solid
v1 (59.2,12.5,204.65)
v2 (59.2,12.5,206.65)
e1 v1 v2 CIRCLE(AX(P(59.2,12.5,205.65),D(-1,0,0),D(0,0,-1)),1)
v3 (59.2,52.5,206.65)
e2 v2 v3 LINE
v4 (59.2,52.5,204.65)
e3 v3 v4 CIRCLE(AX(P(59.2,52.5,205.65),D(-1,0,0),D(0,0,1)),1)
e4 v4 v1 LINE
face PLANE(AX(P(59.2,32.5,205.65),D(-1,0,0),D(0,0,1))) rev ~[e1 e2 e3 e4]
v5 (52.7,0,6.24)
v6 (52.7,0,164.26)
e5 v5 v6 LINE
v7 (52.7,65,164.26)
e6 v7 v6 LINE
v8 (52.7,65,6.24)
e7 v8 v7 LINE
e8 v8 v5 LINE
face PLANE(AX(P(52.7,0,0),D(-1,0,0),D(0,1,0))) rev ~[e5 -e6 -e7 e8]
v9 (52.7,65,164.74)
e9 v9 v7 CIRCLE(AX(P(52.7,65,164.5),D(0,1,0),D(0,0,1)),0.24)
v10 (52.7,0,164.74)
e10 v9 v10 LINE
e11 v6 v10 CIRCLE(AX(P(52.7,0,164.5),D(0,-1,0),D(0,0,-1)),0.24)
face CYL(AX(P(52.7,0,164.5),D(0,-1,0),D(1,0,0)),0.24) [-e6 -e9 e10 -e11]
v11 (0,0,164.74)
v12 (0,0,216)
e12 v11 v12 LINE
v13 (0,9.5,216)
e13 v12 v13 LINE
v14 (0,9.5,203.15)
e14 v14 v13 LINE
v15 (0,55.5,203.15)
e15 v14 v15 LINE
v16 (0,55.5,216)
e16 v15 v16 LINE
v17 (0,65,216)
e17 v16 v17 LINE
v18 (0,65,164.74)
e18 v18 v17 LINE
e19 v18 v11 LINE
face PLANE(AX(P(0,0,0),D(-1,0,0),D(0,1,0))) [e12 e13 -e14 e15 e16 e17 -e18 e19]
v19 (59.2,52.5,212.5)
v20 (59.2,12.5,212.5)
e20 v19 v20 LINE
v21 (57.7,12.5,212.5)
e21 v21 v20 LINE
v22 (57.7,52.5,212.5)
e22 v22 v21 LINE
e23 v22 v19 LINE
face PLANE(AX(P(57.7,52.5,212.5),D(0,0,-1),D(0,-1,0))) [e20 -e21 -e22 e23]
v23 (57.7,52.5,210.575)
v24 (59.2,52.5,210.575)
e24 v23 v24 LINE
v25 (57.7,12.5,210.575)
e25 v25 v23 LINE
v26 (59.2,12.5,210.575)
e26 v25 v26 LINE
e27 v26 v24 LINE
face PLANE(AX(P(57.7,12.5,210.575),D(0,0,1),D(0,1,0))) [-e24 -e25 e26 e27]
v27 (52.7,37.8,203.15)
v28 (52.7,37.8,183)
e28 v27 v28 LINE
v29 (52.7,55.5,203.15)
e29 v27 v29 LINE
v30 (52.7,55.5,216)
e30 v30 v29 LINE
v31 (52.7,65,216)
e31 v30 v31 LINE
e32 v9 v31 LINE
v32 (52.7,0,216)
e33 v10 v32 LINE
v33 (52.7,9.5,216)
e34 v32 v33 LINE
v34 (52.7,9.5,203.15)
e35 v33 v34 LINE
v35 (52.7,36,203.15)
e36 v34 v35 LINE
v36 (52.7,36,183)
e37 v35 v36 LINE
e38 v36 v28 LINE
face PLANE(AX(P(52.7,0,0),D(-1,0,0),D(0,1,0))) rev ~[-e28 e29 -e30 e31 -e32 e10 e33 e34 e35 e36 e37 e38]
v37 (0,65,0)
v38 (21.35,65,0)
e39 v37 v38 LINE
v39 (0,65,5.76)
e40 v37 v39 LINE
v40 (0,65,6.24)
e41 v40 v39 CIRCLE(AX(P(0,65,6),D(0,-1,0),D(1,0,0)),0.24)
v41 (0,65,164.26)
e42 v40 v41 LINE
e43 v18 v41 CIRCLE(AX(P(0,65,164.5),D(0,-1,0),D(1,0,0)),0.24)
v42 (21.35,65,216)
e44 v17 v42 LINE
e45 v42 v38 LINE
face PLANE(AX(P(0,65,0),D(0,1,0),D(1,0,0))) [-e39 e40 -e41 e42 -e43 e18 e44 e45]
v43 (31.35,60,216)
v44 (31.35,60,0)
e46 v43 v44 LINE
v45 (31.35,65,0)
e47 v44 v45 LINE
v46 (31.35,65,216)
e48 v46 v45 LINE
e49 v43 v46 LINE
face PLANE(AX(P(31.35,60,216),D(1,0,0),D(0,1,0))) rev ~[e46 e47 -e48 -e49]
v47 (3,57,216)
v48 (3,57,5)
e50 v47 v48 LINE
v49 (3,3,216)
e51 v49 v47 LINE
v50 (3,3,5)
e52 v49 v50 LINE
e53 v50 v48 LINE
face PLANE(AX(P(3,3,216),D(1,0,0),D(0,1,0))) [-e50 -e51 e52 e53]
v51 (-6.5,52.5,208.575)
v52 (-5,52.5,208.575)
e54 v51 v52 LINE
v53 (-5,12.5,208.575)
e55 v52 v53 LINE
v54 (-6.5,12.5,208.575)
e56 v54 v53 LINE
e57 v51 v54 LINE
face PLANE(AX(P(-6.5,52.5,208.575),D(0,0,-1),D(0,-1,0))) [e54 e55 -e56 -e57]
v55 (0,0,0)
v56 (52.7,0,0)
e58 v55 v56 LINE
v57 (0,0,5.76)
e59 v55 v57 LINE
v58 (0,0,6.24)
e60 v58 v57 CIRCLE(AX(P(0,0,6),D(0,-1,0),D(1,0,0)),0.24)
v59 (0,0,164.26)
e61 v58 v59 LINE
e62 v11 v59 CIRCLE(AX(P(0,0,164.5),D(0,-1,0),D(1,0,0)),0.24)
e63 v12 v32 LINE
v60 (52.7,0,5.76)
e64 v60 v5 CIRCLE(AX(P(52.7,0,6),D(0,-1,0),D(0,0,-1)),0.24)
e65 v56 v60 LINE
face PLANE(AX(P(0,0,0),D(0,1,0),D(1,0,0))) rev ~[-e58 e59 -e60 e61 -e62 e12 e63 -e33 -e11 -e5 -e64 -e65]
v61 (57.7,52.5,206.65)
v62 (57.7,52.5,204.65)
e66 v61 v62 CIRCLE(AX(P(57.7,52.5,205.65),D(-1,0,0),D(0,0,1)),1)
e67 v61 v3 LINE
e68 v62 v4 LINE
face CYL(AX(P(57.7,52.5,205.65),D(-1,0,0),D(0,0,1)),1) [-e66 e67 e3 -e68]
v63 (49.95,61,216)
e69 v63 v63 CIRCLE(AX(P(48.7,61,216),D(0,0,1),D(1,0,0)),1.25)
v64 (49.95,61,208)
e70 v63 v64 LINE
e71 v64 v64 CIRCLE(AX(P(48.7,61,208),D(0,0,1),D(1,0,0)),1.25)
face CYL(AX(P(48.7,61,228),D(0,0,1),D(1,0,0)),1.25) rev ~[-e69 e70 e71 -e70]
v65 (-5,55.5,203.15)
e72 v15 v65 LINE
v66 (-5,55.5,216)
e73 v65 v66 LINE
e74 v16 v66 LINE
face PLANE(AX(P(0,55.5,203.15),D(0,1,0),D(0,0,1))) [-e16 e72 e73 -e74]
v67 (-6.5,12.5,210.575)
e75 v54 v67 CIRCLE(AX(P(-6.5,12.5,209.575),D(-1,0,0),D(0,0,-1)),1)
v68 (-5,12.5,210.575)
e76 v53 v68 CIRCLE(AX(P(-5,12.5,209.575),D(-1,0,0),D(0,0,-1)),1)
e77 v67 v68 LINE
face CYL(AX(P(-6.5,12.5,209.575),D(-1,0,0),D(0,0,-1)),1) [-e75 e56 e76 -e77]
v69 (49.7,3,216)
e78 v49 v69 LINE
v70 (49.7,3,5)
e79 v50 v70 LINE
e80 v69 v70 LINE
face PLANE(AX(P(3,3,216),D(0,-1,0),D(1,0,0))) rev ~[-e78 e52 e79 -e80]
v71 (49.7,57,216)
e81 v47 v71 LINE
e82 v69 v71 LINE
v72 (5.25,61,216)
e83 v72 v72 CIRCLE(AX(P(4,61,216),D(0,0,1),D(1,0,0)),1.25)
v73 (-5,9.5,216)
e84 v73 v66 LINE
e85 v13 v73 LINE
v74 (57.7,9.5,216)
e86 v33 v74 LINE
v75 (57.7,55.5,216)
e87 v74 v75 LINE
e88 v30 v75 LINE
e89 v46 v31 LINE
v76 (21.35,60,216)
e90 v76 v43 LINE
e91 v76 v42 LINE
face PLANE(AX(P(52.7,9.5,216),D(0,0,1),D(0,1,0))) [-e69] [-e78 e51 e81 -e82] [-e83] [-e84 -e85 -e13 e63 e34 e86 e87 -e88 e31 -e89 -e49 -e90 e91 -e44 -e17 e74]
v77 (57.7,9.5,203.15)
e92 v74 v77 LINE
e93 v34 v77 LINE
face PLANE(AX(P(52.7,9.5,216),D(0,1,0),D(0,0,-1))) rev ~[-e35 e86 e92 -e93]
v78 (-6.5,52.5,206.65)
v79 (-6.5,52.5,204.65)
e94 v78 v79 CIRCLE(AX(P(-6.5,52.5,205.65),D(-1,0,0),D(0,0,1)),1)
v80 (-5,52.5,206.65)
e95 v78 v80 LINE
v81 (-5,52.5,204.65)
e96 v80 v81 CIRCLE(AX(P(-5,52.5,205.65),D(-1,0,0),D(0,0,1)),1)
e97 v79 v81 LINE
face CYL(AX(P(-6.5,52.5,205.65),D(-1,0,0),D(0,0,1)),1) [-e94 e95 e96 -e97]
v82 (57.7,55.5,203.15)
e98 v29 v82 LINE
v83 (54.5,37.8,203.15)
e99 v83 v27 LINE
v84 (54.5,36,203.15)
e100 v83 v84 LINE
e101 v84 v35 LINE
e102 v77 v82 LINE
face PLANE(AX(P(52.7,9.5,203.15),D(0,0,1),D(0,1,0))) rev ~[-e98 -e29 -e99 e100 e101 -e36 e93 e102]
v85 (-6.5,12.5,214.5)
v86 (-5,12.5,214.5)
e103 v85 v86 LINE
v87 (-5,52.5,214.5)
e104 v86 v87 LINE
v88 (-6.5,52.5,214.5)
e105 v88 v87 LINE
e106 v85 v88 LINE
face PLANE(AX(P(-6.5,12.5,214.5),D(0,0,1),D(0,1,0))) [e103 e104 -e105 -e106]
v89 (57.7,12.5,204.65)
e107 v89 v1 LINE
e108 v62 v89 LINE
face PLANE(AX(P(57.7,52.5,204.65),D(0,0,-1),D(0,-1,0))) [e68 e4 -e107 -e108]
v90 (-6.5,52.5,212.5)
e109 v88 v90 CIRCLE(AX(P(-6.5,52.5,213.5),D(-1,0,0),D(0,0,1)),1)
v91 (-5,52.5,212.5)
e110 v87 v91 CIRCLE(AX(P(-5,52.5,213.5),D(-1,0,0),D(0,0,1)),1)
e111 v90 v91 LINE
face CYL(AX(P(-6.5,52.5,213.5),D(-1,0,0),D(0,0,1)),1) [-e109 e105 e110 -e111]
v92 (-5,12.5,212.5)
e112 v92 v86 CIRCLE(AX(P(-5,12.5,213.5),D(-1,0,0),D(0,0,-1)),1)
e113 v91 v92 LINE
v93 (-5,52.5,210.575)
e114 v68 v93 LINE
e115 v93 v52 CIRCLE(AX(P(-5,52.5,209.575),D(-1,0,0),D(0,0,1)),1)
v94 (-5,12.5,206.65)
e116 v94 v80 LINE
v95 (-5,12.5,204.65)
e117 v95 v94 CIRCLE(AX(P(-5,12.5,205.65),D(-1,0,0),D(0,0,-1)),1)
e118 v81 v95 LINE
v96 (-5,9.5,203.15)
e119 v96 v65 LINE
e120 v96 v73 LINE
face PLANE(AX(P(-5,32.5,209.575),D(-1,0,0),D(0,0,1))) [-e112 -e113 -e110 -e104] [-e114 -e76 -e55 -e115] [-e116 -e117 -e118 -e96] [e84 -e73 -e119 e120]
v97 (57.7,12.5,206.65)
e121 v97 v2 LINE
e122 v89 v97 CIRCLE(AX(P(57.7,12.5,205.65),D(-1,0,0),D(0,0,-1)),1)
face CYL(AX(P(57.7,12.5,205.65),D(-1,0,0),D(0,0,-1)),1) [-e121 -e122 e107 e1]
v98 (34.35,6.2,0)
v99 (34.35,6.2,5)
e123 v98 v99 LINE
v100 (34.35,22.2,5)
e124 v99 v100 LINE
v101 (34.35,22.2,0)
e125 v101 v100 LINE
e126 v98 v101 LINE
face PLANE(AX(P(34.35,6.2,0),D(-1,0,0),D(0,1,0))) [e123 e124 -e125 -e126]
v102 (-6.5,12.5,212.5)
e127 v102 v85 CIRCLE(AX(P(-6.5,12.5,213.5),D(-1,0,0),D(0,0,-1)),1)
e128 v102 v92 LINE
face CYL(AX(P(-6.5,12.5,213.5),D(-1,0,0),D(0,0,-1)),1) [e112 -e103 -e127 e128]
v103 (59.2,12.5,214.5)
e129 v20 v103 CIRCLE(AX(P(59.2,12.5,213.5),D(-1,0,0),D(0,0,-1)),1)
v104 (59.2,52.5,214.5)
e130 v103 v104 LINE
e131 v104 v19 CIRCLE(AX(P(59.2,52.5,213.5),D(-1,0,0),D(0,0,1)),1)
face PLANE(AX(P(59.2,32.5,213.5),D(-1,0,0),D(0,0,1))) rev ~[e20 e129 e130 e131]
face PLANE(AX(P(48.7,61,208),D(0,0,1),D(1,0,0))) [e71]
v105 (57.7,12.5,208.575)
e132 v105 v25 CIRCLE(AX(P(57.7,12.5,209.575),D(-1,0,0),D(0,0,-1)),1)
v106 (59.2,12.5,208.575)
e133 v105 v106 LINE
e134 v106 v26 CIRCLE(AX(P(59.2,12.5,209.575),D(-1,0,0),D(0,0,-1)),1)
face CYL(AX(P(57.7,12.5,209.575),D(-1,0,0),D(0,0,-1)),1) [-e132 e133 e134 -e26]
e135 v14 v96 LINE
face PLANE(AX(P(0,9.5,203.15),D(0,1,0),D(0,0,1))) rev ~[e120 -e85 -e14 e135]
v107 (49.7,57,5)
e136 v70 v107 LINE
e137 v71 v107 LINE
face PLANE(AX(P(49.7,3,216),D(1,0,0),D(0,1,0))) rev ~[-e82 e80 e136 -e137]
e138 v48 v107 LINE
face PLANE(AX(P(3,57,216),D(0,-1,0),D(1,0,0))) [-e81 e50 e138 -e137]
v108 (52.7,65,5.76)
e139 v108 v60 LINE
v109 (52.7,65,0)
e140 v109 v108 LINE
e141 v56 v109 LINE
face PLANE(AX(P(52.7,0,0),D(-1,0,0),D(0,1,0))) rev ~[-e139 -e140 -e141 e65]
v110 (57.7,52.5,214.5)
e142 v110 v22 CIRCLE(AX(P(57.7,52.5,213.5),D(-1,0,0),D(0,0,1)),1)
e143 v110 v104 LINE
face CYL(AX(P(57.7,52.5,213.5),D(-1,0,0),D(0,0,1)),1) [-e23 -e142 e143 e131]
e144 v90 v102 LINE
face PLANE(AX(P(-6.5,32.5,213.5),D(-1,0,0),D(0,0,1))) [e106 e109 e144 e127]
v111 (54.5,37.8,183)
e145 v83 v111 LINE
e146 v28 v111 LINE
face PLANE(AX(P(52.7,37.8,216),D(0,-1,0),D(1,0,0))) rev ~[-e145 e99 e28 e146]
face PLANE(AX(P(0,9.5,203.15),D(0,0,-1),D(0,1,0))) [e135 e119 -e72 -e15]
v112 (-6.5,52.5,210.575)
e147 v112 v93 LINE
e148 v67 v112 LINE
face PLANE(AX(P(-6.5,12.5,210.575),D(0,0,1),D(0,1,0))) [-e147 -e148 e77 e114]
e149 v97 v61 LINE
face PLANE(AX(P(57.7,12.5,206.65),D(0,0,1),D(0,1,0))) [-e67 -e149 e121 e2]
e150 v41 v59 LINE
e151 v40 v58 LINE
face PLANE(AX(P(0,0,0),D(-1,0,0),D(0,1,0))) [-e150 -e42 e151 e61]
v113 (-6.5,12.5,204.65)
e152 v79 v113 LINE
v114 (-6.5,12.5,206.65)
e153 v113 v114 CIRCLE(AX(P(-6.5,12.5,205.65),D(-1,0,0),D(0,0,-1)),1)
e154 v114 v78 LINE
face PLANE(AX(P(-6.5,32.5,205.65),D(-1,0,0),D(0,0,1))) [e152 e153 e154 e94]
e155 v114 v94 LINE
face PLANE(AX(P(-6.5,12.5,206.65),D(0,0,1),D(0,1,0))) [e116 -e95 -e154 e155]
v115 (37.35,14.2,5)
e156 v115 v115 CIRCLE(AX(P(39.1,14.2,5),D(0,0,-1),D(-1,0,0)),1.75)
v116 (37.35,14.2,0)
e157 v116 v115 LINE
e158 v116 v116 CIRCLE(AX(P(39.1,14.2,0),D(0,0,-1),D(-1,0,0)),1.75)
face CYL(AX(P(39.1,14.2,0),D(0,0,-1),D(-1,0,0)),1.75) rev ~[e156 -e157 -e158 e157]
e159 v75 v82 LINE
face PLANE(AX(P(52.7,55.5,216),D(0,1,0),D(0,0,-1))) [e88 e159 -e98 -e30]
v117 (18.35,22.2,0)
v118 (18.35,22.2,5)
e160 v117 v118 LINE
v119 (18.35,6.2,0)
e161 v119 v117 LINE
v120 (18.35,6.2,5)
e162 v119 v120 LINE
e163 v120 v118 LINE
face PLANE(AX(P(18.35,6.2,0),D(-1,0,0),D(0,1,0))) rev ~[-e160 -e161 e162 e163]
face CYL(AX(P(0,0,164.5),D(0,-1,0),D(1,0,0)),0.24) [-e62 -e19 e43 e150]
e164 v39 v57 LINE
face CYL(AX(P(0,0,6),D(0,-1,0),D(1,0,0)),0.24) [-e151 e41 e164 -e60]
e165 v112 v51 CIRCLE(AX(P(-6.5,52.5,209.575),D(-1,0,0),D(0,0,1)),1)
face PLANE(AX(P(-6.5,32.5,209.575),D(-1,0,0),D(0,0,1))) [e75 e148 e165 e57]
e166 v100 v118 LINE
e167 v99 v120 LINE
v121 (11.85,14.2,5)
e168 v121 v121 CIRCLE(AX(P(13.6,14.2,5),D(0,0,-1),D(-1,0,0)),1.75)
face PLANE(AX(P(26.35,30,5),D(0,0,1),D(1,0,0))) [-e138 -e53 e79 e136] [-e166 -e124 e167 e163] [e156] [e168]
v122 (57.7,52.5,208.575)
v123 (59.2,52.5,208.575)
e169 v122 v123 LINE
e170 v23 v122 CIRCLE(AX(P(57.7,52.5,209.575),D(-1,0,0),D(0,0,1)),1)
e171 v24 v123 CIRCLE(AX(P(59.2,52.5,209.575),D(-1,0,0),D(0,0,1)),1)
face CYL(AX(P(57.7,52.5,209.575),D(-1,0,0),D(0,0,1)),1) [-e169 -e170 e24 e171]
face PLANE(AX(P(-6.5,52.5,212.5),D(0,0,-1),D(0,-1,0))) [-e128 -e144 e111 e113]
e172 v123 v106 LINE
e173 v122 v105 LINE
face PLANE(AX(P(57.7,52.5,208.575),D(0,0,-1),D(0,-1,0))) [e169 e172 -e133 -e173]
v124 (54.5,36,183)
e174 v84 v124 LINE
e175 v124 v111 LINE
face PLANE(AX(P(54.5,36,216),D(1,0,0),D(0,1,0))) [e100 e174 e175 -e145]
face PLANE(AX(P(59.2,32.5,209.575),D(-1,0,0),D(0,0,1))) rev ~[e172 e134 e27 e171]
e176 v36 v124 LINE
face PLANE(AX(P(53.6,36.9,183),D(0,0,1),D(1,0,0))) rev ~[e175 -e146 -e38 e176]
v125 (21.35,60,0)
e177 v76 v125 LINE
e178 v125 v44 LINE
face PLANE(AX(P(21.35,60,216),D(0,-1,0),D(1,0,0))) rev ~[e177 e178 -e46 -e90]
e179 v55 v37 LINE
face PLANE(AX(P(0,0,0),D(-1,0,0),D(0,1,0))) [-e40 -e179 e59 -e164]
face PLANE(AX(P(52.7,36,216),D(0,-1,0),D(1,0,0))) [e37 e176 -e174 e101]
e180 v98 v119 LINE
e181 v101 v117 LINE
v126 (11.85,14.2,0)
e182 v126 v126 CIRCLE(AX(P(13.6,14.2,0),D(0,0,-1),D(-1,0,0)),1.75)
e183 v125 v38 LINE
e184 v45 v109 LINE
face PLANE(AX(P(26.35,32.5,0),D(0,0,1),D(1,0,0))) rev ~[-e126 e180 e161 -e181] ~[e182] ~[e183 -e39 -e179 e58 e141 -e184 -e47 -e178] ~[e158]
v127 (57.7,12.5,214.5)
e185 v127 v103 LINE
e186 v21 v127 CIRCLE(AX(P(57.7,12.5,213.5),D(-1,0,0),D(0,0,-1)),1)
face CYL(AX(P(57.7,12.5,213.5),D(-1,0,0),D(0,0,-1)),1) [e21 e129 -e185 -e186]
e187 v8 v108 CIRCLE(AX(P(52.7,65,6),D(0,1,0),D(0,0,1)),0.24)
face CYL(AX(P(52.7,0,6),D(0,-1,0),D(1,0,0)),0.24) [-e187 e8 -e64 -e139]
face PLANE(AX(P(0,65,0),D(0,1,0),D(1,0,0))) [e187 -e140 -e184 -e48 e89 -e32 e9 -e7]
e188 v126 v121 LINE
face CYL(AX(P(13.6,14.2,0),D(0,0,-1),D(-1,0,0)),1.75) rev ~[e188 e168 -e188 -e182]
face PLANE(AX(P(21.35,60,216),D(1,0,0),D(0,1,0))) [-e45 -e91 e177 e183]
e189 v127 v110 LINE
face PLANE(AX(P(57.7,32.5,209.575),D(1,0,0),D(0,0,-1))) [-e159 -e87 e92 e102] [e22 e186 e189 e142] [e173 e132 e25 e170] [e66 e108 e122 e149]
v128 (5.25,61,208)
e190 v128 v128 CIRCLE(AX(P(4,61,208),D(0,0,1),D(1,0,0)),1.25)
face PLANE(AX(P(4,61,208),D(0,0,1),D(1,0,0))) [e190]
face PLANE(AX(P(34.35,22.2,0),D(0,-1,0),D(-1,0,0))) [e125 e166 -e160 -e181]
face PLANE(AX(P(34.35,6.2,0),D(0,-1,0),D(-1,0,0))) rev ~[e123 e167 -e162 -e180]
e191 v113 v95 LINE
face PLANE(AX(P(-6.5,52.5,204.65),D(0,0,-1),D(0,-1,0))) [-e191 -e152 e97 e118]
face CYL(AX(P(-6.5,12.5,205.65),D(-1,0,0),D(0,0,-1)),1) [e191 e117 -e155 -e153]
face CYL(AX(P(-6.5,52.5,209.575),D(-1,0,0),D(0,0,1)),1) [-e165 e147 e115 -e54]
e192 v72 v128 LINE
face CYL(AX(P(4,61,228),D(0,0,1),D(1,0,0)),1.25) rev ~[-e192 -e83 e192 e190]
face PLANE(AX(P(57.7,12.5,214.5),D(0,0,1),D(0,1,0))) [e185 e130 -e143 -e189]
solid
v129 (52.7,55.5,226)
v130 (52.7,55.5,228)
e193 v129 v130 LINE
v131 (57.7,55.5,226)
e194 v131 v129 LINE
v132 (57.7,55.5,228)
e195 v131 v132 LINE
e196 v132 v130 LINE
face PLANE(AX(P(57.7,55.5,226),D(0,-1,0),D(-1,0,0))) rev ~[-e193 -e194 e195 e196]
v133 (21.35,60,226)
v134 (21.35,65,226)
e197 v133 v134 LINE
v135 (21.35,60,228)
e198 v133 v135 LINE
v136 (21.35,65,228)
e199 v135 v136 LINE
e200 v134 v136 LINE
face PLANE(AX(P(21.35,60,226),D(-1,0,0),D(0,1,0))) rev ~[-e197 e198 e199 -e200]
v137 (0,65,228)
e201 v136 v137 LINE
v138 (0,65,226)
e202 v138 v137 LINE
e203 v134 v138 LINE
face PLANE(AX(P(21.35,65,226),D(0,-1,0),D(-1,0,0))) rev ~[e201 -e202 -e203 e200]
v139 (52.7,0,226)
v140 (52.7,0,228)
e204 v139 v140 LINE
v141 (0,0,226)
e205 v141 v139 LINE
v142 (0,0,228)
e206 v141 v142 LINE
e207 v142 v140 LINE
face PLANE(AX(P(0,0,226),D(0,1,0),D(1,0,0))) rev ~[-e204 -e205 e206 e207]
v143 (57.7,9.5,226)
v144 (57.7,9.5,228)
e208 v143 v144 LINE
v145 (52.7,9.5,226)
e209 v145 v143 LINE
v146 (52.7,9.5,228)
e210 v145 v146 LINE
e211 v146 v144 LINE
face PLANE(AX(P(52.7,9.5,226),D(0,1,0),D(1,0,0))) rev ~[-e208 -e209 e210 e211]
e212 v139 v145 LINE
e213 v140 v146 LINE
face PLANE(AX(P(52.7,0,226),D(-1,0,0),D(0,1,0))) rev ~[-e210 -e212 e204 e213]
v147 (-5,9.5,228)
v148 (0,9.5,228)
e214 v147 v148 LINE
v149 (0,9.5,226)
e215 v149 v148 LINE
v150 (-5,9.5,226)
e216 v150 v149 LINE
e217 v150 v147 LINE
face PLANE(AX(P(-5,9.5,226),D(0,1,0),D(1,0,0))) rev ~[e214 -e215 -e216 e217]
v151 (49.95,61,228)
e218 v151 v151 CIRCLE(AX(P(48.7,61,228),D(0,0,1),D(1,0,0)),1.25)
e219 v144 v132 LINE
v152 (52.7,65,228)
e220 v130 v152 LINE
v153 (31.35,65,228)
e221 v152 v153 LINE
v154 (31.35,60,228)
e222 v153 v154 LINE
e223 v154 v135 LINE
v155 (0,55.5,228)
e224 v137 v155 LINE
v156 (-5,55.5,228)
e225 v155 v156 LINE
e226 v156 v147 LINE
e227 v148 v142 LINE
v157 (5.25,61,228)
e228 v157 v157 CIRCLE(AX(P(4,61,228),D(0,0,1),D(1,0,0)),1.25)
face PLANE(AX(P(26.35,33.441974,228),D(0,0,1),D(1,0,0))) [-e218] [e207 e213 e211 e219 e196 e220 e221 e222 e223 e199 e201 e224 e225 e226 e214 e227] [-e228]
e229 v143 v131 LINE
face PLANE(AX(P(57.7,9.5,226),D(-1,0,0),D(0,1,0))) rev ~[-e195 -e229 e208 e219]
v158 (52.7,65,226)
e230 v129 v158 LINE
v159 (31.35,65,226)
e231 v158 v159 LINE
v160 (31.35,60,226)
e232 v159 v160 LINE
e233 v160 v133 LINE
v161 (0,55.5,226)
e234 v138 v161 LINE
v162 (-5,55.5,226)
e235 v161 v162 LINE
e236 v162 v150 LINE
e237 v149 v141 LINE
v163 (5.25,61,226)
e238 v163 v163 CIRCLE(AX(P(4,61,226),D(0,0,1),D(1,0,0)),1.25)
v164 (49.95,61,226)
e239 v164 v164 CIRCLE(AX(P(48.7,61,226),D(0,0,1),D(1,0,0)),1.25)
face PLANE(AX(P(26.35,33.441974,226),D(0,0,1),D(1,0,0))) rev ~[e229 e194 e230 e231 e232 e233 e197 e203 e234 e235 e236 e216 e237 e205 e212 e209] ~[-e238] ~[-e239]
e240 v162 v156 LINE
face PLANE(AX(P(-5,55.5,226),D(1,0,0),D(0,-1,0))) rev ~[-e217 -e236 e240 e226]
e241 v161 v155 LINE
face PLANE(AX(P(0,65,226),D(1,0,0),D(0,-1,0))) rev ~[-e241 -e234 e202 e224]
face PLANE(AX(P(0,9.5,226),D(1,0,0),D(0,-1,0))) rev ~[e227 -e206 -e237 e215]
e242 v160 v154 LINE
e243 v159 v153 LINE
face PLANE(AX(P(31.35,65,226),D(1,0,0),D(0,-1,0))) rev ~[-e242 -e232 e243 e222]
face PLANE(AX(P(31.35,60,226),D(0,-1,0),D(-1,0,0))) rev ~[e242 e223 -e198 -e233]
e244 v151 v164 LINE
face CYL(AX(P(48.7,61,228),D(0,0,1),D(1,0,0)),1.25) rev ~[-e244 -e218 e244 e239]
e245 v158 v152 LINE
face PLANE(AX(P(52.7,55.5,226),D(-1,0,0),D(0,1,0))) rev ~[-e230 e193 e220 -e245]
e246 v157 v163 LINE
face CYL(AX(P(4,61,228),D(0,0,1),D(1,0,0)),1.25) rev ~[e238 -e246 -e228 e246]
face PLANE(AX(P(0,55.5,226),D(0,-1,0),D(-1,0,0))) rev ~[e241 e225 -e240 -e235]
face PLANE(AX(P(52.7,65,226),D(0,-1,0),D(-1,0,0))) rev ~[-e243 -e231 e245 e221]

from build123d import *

# Parameters (mm, degrees)
SKETCH_1_W          = 52.7
SKETCH_1_H          = 65
EXTRUDE_1_DEPTH     = 216
SKETCH_2_W          = 10
SKETCH_2_H          = 5
CUT_EXTRUDE_1_DEPTH = 232.642591075
SKETCH_3_W          = 46.7
SKETCH_3_H          = 54
CUT_EXTRUDE_2_DEPTH = 211
SKETCH_6_R          = 1.75
SKETCH_6_W          = 16
SKETCH_6_H          = 16
CUT_EXTRUDE_3_DEPTH = 5
SKETCH_7_W          = 1.8
SKETCH_7_H          = 1.8
EXTRUDE_2_DEPTH     = 33
SKETCH_9_W          = 12.85
SKETCH_9_H          = 46
EXTRUDE_3_DEPTH     = 5
SKETCH_10_W         = 12.85
SKETCH_10_H         = 46
EXTRUDE_4_DEPTH     = 5
EXTRUDE_5_DEPTH     = 1.5
EXTRUDE_START       = 1.5
EXTRUDE_6_DEPTH     = 1.5
EXTRUDE_7_DEPTH     = 2
SKETCH_15_R         = 1.25
CUT_EXTRUDE_4_DEPTH = 20
SKETCH_18_R         = 0.24
EXTRUDE_8_DEPTH     = 65


with BuildPart() as part:
    # 草图1 → 凸台-拉伸1 (new body)
    with BuildSketch(Plane.XY):
        with Locations((26.35, 32.5)):
            Rectangle(SKETCH_1_W, SKETCH_1_H)
    extrude(amount=EXTRUDE_1_DEPTH)

    # 草图2 → 切除-拉伸1 (cut, through all)
    with BuildSketch(Plane.XY.offset(216)):
        with Locations((26.35, 62.5)):
            Rectangle(SKETCH_2_W, SKETCH_2_H)
    extrude(amount=-CUT_EXTRUDE_1_DEPTH, mode=Mode.SUBTRACT)

    # 草图3 → 切除-拉伸2 (cut)
    with BuildSketch(Plane.XY.offset(216)):
        with Locations((26.35, 30)):
            Rectangle(SKETCH_3_W, SKETCH_3_H)
    extrude(amount=-CUT_EXTRUDE_2_DEPTH, mode=Mode.SUBTRACT)

    # 草图6 → 切除-拉伸3 (cut)
    with BuildSketch(Plane(origin=(0, 0, 0), x_dir=(-1, 0, 0), z_dir=(0, 0, -1))):
        with Locations((-13.6, 14.2)):
            Circle(SKETCH_6_R)
        with Locations((-39.1, 14.2)):
            Circle(SKETCH_6_R)
        with Locations((-26.35, 14.2)):
            Rectangle(SKETCH_6_W, SKETCH_6_H)
    extrude(amount=-CUT_EXTRUDE_3_DEPTH, mode=Mode.SUBTRACT)

    # 草图7 → 凸台-拉伸2 (add)
    with BuildSketch(Plane.XY.offset(216)):
        with Locations((53.6, 36.9)):
            Rectangle(SKETCH_7_W, SKETCH_7_H)
    extrude(amount=-EXTRUDE_2_DEPTH)

    # 草图9 → 凸台-拉伸3 (add)
    with BuildSketch(Plane.ZY):
        with Locations((209.575, 32.5)):
            Rectangle(SKETCH_9_W, SKETCH_9_H)
    extrude(amount=EXTRUDE_3_DEPTH)

    # 草图10 → 凸台-拉伸4 (add)
    with BuildSketch(Plane(origin=(52.7, 0, 0), x_dir=(0, 0, -1), z_dir=(1, 0, 0))):
        with Locations((-209.575, 32.5)):
            Rectangle(SKETCH_10_W, SKETCH_10_H)
    extrude(amount=EXTRUDE_4_DEPTH)

    # 草图11 → 凸台-拉伸5 (add)
    with BuildSketch(Plane(origin=(57.7, 0, 0), x_dir=(0, 0, -1), z_dir=(1, 0, 0))):
        with BuildLine():
            Line((-214.5, 12.5), (-214.5, 52.5))
            ThreePointArc((-214.5, 52.5), (-213.5, 53.5), (-212.5, 52.5))
            Line((-212.5, 52.5), (-212.5, 12.5))
            ThreePointArc((-212.5, 12.5), (-213.5, 11.5), (-214.5, 12.5))
        make_face()
        with BuildLine():
            Line((-210.575, 12.5), (-210.575, 52.5))
            ThreePointArc((-210.575, 52.5), (-209.575, 53.5), (-208.575, 52.5))
            Line((-208.575, 52.5), (-208.575, 12.5))
            ThreePointArc((-208.575, 12.5), (-209.575, 11.5), (-210.575, 12.5))
        make_face()
        with BuildLine():
            Line((-206.65, 12.5), (-206.65, 52.5))
            ThreePointArc((-206.65, 52.5), (-205.65, 53.5), (-204.65, 52.5))
            Line((-204.65, 52.5), (-204.65, 12.5))
            ThreePointArc((-204.65, 12.5), (-205.65, 11.5), (-206.65, 12.5))
        make_face()
    extrude(amount=EXTRUDE_5_DEPTH)

    # 草图12 → 凸台-拉伸6 (add)
    with BuildSketch(Plane.ZY.offset(5).offset(EXTRUDE_START)):
        with BuildLine():
            Line((214.5, 12.5), (214.5, 52.5))
            ThreePointArc((214.5, 52.5), (213.5, 53.5), (212.5, 52.5))
            Line((212.5, 52.5), (212.5, 12.5))
            ThreePointArc((212.5, 12.5), (213.5, 11.5), (214.5, 12.5))
        make_face()
        with BuildLine():
            Line((206.65, 12.5), (206.65, 52.5))
            ThreePointArc((206.65, 52.5), (205.65, 53.5), (204.65, 52.5))
            Line((204.65, 52.5), (204.65, 12.5))
            ThreePointArc((204.65, 12.5), (205.65, 11.5), (206.65, 12.5))
        make_face()
        with BuildLine():
            Line((210.575, 12.5), (210.575, 52.5))
            ThreePointArc((210.575, 52.5), (209.575, 53.5), (208.575, 52.5))
            Line((208.575, 52.5), (208.575, 12.5))
            ThreePointArc((208.575, 12.5), (209.575, 11.5), (210.575, 12.5))
        make_face()
    extrude(amount=-EXTRUDE_6_DEPTH)


with BuildPart() as body_2:
    # 草图14 → 凸台-拉伸7 (new body)
    with BuildSketch(Plane.XY.offset(226)):
        Polygon((57.7, 55.5), (52.7, 55.5), (52.7, 65), (31.35, 65), (31.35, 60), (21.35, 60), (21.35, 65), (0, 65), (0, 55.5), (-5, 55.5), (-5, 9.5), (0, 9.5), (0, 0), (52.7, 0), (52.7, 9.5), (57.7, 9.5), align=None)
    extrude(amount=EXTRUDE_7_DEPTH)


with BuildPart() as cut_extrude_4_tool:
    # 草图15 → 切除-拉伸4 (new body)
    with BuildSketch(Plane.XY.offset(228)):
        with Locations((4, 61)):
            Circle(SKETCH_15_R)
        with Locations((48.7, 61)):
            Circle(SKETCH_15_R)
    extrude(amount=-CUT_EXTRUDE_4_DEPTH)


with BuildPart() as part_1:
    add(part.part)

    # 切除-拉伸4: cut by cut_extrude_4_tool
    add(cut_extrude_4_tool.part, mode=Mode.SUBTRACT)

    # 草图18 → 凸台-拉伸8 (add)
    with BuildSketch(Plane.XZ):
        with Locations((0, 6)):
            Circle(SKETCH_18_R)
        with Locations((52.7, 6)):
            Circle(SKETCH_18_R)
        with Locations((0, 164.5)):
            Circle(SKETCH_18_R)
        with Locations((52.7, 164.5)):
            Circle(SKETCH_18_R)
    extrude(amount=-EXTRUDE_8_DEPTH)


with BuildPart() as body_2_1:
    add(body_2.part)

    # 切除-拉伸4: cut by cut_extrude_4_tool
    add(cut_extrude_4_tool.part, mode=Mode.SUBTRACT)


solid = Compound([part_1.part, body_2_1.part])
